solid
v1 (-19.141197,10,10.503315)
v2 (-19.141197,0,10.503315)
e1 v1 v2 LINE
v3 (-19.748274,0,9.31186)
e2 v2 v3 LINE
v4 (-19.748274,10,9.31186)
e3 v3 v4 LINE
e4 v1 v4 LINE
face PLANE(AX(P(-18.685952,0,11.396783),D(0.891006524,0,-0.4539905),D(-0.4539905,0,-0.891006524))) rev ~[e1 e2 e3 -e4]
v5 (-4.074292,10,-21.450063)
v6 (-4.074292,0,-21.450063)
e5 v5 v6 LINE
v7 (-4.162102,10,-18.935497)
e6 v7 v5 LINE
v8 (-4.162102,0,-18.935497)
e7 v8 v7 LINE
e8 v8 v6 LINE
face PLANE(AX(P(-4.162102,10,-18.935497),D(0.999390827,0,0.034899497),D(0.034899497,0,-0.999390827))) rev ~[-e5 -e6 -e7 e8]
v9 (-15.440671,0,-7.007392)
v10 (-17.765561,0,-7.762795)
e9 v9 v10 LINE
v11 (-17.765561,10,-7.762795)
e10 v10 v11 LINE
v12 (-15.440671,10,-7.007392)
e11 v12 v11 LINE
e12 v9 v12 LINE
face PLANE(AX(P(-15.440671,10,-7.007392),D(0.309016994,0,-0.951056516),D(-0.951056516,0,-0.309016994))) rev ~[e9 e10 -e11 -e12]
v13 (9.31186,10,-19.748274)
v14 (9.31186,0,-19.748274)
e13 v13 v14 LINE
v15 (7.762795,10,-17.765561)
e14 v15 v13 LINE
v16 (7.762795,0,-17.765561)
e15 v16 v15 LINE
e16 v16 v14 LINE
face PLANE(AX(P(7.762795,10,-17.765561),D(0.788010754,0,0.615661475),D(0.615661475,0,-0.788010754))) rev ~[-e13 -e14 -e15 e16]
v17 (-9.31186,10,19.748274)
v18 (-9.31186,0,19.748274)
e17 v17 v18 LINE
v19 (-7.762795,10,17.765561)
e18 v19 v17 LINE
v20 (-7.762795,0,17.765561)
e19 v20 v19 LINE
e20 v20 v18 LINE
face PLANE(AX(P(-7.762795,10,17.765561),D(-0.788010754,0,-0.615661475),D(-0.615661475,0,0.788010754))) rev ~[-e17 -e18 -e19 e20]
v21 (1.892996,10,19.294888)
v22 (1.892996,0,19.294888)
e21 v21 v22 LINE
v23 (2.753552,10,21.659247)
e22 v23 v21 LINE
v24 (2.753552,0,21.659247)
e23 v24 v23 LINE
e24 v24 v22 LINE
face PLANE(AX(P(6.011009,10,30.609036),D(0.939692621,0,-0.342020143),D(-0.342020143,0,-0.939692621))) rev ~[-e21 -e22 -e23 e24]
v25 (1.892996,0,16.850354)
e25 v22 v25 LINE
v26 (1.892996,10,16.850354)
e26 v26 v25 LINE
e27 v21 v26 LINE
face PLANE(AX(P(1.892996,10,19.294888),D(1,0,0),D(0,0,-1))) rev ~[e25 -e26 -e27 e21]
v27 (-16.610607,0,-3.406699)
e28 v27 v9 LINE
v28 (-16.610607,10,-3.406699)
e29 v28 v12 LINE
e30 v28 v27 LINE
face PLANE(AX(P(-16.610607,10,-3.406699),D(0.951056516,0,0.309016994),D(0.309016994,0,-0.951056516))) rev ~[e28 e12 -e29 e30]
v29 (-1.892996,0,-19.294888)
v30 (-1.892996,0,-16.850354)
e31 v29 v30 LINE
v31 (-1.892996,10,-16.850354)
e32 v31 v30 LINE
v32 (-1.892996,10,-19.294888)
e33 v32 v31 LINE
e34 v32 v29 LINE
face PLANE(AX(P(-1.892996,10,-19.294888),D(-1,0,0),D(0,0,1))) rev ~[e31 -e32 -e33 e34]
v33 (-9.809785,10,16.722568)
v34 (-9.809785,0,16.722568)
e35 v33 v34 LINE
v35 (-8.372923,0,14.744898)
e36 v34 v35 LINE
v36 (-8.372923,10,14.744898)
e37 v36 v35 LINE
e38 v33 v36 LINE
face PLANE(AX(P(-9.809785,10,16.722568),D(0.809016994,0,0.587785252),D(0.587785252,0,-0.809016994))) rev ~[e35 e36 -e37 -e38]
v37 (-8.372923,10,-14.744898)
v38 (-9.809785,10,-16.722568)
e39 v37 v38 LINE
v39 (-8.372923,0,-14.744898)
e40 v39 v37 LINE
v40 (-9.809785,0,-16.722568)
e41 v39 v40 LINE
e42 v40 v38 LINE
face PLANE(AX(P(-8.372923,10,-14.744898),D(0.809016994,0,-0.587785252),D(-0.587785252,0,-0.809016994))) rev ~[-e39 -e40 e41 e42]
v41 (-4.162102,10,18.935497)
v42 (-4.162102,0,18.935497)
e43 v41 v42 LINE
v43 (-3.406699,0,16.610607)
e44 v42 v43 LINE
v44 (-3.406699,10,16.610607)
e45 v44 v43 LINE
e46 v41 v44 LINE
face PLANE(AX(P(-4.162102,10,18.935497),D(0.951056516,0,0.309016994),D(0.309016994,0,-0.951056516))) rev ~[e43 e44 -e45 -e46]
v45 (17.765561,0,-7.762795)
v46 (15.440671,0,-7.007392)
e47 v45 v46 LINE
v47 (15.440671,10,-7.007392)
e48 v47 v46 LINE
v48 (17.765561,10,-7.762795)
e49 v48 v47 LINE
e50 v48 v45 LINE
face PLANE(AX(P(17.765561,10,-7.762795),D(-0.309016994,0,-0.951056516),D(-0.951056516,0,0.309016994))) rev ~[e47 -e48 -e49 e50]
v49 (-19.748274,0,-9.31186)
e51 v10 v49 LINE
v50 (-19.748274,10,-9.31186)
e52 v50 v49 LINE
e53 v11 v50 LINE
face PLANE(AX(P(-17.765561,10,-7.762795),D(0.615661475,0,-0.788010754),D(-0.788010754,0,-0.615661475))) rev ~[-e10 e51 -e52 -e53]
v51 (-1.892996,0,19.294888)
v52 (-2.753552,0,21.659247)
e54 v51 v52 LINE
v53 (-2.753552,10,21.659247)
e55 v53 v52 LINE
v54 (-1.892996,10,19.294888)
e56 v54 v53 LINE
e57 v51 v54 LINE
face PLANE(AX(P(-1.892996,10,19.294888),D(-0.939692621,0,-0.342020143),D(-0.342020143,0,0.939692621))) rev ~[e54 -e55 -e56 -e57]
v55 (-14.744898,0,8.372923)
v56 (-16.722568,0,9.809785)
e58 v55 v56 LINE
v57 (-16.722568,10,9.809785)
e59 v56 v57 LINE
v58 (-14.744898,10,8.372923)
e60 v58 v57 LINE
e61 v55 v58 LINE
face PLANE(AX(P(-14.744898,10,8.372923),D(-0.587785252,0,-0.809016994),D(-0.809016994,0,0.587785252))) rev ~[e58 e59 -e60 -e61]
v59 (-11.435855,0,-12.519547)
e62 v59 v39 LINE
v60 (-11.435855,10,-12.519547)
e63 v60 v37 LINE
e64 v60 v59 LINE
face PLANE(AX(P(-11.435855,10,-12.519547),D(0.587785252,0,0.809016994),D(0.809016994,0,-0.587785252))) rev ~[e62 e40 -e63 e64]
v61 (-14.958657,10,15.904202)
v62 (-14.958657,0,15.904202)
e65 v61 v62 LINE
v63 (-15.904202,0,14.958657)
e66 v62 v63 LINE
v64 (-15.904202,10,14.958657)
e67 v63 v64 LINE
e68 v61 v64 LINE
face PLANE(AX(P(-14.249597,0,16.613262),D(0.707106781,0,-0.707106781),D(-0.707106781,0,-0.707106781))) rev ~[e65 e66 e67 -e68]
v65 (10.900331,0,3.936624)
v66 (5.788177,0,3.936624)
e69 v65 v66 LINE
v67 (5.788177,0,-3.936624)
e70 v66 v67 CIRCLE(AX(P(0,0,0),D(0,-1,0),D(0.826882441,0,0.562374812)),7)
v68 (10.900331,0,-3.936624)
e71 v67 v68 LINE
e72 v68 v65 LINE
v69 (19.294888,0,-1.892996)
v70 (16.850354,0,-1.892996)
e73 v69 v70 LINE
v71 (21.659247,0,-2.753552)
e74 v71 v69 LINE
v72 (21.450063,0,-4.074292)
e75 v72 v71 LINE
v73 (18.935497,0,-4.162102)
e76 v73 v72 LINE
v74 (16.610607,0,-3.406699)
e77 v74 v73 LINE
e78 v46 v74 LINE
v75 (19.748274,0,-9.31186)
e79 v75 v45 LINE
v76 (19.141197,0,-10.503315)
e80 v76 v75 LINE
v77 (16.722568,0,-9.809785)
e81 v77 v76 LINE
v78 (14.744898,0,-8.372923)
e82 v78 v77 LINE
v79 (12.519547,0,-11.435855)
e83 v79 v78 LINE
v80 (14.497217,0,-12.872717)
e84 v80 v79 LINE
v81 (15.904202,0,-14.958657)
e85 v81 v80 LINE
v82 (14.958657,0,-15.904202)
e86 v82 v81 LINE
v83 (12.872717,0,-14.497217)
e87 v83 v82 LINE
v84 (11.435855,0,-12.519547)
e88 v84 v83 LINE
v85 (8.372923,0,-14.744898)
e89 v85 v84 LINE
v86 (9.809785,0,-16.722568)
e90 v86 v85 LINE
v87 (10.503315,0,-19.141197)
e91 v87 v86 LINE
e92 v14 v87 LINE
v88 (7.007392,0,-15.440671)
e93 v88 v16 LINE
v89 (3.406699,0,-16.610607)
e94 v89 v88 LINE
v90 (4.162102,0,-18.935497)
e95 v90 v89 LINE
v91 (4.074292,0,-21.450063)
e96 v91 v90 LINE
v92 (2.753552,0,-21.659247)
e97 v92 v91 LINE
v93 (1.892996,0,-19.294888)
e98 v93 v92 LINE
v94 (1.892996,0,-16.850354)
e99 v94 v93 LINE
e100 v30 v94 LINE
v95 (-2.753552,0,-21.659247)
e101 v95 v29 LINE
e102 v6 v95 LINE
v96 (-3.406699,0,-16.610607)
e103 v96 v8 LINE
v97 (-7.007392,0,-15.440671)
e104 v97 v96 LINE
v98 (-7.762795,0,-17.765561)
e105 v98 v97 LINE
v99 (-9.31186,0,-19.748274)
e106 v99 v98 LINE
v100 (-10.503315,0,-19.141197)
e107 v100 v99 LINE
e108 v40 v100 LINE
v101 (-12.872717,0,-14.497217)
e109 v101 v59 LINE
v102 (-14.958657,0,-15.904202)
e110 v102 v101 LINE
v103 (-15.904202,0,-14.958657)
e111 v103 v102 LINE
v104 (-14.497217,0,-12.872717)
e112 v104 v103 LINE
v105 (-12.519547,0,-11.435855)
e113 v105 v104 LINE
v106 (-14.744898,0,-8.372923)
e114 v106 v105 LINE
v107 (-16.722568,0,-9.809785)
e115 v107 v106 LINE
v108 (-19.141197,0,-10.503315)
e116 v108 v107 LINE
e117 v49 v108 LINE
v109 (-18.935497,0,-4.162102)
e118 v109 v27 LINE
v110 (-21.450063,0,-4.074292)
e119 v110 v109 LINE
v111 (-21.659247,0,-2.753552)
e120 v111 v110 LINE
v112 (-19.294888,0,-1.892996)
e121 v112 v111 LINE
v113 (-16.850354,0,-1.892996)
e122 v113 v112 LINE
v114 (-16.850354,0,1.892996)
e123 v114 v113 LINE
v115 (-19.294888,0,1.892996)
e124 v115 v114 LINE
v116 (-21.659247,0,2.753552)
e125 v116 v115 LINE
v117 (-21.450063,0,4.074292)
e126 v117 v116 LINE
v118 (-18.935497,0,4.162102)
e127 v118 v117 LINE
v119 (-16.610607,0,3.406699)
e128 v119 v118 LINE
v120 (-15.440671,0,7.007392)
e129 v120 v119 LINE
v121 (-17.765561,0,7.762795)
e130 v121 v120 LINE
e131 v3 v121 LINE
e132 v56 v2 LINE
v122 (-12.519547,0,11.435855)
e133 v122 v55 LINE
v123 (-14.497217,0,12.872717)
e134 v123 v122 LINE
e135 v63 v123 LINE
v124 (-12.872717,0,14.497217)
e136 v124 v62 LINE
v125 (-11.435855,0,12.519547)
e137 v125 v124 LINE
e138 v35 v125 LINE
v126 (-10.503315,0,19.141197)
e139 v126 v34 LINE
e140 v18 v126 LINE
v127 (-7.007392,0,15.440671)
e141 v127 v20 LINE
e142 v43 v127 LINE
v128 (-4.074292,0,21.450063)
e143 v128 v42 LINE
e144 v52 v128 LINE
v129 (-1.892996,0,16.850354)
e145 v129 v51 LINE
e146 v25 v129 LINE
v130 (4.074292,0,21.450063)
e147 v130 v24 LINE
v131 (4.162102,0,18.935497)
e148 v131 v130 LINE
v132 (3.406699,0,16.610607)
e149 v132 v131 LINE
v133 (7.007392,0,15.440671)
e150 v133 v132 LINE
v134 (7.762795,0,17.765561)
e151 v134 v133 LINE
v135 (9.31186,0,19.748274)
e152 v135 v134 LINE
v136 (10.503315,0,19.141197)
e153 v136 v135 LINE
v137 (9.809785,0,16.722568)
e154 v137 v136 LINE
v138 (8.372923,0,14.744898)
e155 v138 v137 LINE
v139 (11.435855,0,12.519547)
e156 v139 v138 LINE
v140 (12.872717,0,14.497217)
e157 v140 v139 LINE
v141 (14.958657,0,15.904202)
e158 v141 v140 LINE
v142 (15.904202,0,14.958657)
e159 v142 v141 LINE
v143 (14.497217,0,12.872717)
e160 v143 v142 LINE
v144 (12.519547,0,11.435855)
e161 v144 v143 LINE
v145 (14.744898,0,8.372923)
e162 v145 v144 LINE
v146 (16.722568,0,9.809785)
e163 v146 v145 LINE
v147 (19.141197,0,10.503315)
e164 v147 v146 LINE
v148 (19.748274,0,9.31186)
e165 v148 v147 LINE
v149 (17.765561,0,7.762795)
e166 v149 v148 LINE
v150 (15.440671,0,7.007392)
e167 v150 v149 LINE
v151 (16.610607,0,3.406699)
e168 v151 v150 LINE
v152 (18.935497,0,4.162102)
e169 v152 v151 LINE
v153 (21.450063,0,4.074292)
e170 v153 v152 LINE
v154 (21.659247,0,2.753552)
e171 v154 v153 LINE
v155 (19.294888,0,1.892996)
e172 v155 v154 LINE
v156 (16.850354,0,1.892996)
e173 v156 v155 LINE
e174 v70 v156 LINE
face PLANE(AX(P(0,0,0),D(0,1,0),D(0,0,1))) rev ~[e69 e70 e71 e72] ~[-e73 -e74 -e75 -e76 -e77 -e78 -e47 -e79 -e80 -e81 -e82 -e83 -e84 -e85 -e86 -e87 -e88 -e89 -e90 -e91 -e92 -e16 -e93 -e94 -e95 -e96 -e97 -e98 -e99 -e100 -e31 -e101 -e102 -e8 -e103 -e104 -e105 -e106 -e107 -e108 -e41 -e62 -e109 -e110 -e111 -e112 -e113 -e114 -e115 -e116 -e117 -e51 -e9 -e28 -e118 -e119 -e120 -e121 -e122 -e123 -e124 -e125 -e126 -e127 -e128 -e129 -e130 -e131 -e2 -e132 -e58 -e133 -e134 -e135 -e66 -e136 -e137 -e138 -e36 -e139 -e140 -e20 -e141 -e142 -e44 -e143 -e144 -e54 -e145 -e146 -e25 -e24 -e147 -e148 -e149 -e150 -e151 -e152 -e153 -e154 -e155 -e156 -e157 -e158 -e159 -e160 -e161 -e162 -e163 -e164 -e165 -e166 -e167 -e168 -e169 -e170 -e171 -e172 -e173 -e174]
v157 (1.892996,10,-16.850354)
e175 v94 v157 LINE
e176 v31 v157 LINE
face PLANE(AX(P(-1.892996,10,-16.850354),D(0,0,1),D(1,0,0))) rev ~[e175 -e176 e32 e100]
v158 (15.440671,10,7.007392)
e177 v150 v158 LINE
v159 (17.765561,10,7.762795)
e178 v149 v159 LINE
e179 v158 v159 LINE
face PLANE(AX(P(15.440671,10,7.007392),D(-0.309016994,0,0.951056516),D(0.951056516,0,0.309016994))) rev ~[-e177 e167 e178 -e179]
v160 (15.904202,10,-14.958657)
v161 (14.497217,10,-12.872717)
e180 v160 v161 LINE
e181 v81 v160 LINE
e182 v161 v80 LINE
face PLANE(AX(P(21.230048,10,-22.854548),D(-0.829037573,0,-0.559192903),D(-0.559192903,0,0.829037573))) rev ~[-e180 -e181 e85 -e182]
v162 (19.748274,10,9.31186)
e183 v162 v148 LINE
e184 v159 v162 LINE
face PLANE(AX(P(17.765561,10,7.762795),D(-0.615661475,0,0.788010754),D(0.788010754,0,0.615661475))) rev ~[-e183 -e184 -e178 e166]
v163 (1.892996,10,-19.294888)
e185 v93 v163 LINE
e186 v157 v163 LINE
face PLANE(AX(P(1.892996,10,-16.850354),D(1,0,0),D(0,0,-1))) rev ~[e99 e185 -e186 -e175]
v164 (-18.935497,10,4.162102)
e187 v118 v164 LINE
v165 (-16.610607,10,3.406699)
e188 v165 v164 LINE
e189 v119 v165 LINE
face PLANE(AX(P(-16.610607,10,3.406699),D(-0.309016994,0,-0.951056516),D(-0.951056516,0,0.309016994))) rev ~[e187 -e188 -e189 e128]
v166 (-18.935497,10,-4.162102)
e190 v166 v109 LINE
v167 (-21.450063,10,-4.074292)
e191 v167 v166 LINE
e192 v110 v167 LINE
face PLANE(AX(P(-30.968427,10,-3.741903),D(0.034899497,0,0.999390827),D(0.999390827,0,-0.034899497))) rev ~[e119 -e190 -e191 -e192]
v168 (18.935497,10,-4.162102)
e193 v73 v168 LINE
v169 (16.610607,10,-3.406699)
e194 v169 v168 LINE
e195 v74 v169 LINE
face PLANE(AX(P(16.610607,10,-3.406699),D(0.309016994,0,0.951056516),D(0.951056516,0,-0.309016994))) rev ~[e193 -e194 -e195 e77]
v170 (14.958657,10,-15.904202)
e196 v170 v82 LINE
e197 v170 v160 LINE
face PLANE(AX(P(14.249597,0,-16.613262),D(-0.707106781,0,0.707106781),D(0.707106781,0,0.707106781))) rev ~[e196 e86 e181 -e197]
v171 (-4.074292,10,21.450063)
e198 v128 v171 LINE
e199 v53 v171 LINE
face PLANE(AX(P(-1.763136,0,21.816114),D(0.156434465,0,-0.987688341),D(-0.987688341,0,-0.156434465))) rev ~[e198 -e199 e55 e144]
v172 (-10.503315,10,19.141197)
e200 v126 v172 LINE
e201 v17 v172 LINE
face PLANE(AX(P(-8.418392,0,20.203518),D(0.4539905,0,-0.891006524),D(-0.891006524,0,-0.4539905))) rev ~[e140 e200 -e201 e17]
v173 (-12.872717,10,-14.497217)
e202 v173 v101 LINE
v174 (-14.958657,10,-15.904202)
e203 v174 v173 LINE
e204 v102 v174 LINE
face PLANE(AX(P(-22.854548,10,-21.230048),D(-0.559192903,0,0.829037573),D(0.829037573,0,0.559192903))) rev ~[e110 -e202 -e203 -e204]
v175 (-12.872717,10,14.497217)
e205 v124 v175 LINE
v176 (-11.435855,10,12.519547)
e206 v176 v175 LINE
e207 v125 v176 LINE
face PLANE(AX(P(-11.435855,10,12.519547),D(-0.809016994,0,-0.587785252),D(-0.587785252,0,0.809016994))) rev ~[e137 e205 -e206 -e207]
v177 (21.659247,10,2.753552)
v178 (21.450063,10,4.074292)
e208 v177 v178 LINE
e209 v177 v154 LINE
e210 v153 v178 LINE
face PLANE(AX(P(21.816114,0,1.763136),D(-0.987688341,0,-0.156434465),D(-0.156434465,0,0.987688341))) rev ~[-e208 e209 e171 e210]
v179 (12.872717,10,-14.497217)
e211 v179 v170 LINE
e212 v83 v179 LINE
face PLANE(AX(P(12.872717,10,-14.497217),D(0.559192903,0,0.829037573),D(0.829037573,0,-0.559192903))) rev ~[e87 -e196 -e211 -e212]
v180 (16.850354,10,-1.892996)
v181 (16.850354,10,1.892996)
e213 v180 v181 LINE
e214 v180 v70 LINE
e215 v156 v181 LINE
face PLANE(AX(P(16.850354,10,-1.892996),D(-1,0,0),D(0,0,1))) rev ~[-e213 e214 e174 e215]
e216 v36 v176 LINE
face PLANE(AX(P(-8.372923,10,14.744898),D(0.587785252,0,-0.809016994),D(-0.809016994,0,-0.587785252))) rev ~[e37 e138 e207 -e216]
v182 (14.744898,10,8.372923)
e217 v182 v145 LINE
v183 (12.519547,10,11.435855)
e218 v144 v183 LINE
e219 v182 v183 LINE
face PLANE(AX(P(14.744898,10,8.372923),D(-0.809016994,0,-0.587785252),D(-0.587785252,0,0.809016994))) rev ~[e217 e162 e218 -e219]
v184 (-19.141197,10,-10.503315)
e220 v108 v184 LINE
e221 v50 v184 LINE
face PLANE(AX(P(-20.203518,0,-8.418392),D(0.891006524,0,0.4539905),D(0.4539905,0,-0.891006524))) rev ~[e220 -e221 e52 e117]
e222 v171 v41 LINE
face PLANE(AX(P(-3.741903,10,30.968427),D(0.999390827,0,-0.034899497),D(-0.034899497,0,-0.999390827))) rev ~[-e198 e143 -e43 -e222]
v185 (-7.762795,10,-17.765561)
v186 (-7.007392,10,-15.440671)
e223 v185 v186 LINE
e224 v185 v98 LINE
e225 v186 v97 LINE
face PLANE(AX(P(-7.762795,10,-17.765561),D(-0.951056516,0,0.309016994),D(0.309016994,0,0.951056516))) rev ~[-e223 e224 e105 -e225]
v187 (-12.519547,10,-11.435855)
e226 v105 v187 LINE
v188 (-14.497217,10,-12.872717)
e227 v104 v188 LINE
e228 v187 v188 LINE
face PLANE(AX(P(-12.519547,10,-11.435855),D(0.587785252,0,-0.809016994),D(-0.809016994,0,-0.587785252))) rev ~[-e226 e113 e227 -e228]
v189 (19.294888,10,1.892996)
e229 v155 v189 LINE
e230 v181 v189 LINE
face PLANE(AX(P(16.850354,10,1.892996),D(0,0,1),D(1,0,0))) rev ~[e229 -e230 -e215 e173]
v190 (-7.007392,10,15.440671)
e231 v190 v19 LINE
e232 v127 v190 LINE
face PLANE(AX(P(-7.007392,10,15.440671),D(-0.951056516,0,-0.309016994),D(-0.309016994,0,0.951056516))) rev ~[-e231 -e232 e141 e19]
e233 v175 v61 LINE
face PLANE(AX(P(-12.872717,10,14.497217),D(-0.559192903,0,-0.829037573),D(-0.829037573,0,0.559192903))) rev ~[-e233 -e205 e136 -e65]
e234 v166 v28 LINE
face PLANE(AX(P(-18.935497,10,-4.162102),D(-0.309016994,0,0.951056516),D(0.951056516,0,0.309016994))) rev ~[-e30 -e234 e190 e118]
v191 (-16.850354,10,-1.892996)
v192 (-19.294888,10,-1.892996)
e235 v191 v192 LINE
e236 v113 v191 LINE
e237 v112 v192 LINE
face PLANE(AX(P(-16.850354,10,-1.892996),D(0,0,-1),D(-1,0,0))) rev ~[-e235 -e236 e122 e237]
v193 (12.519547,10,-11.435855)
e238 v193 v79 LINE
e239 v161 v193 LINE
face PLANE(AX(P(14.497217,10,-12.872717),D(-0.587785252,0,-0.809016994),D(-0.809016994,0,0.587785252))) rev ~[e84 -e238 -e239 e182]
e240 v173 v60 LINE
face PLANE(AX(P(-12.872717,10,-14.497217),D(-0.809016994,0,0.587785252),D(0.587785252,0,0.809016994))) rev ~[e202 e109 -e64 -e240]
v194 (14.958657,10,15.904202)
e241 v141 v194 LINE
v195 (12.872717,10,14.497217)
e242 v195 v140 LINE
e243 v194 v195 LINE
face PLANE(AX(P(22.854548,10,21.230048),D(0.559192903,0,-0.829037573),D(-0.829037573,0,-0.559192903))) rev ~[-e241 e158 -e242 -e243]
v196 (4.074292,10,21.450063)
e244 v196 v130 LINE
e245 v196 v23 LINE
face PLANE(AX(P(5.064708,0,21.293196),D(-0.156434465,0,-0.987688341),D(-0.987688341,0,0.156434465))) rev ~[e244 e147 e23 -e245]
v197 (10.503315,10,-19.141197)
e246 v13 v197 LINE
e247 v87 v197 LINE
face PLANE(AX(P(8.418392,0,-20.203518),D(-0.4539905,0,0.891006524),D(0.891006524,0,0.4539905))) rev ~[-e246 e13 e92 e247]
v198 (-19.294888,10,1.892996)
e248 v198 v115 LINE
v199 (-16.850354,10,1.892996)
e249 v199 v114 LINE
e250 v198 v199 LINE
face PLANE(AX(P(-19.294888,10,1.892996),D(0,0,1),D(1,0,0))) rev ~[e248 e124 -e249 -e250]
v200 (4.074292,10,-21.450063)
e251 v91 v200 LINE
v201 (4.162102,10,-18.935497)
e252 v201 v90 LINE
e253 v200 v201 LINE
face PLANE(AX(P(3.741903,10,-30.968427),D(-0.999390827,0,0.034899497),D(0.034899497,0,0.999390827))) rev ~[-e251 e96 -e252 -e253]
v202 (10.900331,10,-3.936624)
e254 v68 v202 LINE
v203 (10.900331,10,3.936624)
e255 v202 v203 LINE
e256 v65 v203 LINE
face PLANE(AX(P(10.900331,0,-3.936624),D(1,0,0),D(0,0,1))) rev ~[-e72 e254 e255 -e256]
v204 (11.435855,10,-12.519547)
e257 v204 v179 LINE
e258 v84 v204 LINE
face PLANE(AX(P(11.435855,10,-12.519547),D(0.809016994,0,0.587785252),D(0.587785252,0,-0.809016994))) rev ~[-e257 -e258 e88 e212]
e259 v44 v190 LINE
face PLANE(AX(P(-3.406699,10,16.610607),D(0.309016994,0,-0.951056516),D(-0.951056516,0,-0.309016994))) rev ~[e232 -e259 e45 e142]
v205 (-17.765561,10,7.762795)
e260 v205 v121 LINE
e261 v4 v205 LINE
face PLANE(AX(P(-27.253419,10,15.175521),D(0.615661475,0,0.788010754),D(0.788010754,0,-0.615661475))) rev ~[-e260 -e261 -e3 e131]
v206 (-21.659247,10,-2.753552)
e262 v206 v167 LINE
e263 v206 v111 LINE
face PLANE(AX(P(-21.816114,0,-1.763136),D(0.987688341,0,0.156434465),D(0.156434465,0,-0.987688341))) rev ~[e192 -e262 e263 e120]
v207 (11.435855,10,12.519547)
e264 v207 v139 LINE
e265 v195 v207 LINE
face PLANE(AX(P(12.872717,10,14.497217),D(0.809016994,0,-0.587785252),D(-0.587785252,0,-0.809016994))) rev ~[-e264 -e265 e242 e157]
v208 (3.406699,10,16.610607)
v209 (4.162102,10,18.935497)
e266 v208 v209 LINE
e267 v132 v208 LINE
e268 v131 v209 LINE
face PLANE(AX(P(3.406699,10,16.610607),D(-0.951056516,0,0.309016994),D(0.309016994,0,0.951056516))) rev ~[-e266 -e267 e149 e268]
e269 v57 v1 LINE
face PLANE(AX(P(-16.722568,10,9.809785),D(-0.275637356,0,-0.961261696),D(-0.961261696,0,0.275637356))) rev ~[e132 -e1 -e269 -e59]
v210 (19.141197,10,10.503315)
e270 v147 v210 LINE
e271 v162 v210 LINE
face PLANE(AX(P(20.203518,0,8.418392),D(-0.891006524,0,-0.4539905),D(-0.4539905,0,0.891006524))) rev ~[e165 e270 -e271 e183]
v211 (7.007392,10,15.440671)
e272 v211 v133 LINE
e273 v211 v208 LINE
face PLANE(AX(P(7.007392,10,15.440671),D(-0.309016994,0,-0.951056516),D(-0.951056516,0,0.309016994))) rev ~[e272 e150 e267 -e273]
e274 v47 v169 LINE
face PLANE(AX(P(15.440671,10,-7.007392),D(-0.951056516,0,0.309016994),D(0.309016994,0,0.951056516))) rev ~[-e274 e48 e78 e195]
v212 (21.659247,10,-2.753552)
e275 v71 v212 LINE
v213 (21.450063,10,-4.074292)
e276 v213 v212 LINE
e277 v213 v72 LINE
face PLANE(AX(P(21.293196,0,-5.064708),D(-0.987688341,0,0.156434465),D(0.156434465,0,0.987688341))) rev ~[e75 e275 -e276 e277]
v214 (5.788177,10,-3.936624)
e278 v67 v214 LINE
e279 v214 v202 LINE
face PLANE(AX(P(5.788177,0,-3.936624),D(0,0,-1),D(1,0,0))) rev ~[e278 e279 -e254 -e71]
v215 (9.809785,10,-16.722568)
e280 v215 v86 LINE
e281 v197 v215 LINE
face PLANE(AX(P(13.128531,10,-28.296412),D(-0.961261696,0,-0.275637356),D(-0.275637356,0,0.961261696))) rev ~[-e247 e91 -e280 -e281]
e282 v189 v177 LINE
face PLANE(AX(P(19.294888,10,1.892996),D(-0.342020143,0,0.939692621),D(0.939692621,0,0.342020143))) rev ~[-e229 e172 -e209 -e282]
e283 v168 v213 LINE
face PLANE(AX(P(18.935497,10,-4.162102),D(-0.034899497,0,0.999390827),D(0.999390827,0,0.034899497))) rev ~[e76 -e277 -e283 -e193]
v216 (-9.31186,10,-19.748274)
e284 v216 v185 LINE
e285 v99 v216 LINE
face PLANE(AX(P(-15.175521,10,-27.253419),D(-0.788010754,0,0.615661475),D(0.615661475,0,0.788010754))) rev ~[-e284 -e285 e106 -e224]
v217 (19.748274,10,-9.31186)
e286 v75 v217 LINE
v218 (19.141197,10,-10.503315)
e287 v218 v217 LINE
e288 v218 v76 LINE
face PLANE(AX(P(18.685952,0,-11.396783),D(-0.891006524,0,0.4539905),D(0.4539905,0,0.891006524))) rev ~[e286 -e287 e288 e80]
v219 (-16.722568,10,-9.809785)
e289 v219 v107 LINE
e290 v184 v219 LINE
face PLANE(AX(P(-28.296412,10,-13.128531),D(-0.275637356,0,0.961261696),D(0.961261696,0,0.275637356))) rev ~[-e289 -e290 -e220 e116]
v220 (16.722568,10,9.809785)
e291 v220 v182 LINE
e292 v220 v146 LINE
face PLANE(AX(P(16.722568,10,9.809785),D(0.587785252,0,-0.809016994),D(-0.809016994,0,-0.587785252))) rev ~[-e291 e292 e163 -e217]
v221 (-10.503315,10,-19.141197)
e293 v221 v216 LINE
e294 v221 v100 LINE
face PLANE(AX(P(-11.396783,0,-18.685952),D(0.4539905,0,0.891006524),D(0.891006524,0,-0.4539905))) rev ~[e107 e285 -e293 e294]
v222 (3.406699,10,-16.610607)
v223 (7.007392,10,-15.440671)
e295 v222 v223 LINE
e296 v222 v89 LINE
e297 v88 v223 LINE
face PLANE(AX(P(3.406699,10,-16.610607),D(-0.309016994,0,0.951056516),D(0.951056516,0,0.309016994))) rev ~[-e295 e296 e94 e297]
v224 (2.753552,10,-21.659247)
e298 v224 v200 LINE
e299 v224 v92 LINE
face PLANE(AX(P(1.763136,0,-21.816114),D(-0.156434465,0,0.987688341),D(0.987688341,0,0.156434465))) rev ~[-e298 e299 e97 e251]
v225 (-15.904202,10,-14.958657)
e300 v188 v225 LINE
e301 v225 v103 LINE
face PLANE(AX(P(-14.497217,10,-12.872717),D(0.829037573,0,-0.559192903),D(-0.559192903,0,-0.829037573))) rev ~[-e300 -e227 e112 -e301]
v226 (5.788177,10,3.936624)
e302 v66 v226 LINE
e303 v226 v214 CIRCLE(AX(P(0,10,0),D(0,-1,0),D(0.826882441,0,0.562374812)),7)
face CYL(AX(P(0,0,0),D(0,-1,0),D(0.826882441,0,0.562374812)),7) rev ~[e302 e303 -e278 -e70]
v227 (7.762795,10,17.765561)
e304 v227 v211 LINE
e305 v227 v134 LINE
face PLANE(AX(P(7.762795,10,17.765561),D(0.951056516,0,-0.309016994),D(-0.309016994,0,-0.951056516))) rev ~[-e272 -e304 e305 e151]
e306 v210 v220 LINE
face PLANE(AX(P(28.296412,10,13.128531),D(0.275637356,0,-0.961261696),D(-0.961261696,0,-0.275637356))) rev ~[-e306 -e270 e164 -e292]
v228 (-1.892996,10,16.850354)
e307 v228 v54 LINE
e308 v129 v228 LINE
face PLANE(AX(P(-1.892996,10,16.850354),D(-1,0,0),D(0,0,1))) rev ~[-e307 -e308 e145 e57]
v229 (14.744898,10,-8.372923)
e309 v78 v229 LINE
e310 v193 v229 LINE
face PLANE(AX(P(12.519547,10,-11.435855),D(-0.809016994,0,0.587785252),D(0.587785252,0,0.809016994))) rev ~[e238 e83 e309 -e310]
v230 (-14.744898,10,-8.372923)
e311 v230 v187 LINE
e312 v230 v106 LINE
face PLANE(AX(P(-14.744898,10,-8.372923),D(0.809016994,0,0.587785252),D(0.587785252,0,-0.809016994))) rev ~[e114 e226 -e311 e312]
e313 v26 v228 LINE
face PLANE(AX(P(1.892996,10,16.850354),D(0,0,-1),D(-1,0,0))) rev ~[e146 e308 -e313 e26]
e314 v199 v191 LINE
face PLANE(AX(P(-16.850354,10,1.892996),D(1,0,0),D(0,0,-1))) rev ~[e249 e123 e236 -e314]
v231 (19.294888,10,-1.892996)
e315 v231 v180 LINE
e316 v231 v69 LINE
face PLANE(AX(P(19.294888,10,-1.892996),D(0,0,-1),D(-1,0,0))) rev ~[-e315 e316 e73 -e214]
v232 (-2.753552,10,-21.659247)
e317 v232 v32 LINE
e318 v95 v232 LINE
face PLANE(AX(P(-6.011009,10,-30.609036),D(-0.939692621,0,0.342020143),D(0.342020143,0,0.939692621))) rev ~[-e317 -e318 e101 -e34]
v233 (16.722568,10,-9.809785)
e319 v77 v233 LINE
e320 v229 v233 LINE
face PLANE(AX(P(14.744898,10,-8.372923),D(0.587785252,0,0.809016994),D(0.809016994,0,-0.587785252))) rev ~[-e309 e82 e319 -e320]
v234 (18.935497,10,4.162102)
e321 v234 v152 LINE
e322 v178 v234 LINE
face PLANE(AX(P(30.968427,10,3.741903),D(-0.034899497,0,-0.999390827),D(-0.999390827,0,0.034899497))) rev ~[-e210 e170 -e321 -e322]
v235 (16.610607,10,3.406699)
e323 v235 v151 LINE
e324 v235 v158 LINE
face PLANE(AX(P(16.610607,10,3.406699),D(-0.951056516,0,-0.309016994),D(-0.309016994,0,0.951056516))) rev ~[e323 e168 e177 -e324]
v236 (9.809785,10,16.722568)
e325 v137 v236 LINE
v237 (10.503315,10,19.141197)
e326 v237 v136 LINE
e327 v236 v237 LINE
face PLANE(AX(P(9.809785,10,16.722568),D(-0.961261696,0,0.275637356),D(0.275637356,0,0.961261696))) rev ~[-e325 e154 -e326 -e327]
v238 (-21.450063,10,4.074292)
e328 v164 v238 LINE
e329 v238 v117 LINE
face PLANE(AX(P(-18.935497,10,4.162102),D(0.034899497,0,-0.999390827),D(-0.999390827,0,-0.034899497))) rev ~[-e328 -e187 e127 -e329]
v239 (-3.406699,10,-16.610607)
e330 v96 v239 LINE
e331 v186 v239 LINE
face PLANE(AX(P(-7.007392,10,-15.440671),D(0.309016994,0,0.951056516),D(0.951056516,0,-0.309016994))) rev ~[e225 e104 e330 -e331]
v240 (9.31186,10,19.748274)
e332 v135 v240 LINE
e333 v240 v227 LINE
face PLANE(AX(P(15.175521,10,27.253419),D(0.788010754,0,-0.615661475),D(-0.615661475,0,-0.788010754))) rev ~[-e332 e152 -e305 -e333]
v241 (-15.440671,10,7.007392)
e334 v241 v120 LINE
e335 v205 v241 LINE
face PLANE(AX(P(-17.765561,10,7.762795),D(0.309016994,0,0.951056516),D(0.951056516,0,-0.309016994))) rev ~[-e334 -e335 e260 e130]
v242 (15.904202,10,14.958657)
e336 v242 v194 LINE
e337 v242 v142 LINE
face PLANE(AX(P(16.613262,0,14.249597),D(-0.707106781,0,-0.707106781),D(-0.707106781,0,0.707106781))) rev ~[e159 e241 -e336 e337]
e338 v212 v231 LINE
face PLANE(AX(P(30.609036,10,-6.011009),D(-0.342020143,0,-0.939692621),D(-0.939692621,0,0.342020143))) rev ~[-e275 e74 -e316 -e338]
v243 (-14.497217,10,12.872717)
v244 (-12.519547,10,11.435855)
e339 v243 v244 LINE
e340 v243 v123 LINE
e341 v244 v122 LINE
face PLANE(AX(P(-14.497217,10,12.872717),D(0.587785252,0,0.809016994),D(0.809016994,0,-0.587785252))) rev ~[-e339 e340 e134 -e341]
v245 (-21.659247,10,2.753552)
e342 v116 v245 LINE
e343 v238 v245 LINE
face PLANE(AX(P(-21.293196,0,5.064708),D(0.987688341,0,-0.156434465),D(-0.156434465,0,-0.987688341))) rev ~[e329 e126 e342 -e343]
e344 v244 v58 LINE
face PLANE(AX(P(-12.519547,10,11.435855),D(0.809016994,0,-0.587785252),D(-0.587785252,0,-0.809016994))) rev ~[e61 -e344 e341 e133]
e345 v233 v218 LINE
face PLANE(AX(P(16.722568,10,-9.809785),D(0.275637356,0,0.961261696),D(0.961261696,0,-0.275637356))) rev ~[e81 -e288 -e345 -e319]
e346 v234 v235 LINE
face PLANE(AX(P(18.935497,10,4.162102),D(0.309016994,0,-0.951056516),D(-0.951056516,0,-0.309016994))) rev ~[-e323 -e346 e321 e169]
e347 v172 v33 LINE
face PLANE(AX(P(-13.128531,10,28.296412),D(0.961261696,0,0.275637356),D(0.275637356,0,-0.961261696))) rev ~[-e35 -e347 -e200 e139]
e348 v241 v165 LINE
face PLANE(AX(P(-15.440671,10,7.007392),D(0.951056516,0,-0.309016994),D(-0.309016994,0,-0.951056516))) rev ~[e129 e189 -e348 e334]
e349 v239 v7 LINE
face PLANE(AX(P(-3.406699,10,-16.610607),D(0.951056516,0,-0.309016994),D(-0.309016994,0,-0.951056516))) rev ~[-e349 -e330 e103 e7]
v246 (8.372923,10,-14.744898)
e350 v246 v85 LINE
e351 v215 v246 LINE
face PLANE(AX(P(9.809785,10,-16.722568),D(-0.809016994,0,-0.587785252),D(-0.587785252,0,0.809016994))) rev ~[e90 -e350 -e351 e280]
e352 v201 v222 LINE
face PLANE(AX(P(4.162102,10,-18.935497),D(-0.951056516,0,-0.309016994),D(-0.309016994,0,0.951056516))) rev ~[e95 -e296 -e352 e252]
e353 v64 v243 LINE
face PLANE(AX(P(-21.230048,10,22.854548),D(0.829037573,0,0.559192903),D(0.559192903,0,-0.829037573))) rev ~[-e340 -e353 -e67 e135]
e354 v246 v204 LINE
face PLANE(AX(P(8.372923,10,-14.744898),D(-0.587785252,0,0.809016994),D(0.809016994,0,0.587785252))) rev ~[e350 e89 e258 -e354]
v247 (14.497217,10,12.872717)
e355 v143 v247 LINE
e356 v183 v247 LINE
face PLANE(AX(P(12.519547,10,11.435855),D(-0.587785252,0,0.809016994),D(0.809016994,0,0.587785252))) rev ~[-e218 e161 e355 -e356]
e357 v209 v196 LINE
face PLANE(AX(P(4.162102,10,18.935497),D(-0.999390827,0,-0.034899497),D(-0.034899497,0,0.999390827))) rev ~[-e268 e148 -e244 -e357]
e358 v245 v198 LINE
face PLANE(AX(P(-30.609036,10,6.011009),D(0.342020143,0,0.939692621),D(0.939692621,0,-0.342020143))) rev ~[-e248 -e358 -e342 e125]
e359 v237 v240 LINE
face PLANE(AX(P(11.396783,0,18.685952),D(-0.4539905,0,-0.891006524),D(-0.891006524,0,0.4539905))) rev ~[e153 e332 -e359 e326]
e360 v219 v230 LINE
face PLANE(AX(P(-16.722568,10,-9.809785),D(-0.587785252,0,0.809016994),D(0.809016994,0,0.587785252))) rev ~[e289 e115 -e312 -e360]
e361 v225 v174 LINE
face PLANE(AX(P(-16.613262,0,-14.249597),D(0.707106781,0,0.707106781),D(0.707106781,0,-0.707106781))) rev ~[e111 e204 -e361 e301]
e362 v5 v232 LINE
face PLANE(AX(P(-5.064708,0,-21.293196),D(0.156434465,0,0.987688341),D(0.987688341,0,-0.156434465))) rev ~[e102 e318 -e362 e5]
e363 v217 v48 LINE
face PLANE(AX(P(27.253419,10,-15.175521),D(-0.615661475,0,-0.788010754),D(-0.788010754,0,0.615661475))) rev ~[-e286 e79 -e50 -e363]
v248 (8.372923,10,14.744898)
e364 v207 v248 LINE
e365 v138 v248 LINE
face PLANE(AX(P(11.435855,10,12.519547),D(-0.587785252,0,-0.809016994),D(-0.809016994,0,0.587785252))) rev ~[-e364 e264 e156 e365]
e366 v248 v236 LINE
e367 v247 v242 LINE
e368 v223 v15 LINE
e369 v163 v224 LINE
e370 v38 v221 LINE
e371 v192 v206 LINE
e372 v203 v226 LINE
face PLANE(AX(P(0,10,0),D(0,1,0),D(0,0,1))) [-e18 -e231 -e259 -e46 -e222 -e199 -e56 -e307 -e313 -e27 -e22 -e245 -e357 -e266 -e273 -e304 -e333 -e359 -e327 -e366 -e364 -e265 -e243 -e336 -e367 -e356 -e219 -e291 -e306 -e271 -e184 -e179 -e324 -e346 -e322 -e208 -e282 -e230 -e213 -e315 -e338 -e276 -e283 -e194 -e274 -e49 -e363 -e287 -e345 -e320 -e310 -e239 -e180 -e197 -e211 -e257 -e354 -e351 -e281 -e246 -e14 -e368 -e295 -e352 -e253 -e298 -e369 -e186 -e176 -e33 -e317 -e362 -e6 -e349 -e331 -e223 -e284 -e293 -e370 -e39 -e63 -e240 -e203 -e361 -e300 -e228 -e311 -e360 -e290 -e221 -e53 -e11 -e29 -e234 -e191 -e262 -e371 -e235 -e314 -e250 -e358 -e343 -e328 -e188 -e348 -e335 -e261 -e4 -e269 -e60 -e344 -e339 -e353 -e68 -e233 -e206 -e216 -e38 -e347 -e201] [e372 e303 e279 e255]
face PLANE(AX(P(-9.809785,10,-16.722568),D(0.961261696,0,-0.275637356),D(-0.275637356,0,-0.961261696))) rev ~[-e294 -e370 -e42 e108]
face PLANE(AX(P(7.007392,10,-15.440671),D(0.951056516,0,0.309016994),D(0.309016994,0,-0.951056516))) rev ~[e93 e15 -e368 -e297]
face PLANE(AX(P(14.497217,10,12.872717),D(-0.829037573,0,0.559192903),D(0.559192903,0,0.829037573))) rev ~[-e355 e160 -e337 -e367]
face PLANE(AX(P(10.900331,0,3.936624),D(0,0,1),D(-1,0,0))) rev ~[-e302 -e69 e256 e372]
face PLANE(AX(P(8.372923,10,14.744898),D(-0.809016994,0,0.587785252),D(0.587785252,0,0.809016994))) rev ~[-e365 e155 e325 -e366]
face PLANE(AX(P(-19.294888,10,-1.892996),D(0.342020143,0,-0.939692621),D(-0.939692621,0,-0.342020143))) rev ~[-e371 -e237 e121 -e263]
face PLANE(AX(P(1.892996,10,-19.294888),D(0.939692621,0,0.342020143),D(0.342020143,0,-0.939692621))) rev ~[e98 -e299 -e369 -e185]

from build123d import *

# Parameters (mm, degrees)
SKETCH_1_R               = 25
EXTRUDE_1_DEPTH          = 10
CUT_EXTRUDE_1_DEPTH      = 37.742346142
PATTERN_CIRCULAR_1_COUNT = 20
CUT_EXTRUDE_2_DEPTH      = 37.334492668
PATTERN_CIRCULAR_2_COUNT = 20


with BuildPart() as part:
    # 草图1 → 凸台-拉伸1 (new body)
    with BuildSketch(Plane(origin=(0, 0, 0), x_dir=(1, 0, 0), z_dir=(0, 1, 0))):
        with Locations(Location((0, 0, 0), (0, 0, 270))):
            Circle(SKETCH_1_R)
        with BuildLine():
            Line((5.788177086, 3.936623684), (10.900331071, 3.936623684))
            Line((10.900331071, 3.936623684), (10.900331071, -3.936623684))
            Line((10.900331071, -3.936623684), (5.788177086, -3.936623684))
            ThreePointArc((5.788177086, -3.936623684), (-7, 0), (5.788177086, 3.936623684))
        make_face(mode=Mode.SUBTRACT)
    extrude(amount=EXTRUDE_1_DEPTH)

    # 草图2 → 切除-拉伸1 (cut, symmetric)
    with BuildSketch(Plane(origin=(0, 10, 0), x_dir=(1, 0, 0), z_dir=(0, 1, 0))):
        Polygon((-1.89299605, 16.850353612), (1.89299605, 16.850353612), (1.89299605, 19.294888065), (6.011008964, 30.60903556), (-6.011008964, 30.60903556), (-1.89299605, 19.294888065), align=None)
    cut_extrude_1 = extrude(amount=CUT_EXTRUDE_1_DEPTH, both=True, mode=Mode.SUBTRACT)

    # 阵列(圆周)1: 切除-拉伸1 ×20 about axis
    pattern_circular_1_axis = Axis((0, 0, 0), (0, 1, 0))
    for i in range(1, PATTERN_CIRCULAR_1_COUNT):
        add(cut_extrude_1.rotate(pattern_circular_1_axis, i * 360 / PATTERN_CIRCULAR_1_COUNT), mode=Mode.SUBTRACT)

    # 草图4 → 切除-拉伸2 (cut, symmetric)
    with BuildSketch(Plane(origin=(0, 0, 0), x_dir=(1, 0, 0), z_dir=(0, 1, 0))):
        Polygon((-5.064708137, 21.29319636), (-2.398933181, 21.715413634), (-3.215562642, 26.871409132), (-6.421705824, 26.363605939), align=None)
    cut_extrude_2 = extrude(amount=CUT_EXTRUDE_2_DEPTH, both=True, mode=Mode.SUBTRACT)

    # 阵列(圆周)2: 切除-拉伸2 ×20 about axis
    pattern_circular_2_axis = Axis((0, 0, 0), (0, 1, 0))
    for i in range(1, PATTERN_CIRCULAR_2_COUNT):
        add(cut_extrude_2.rotate(pattern_circular_2_axis, i * 360 / PATTERN_CIRCULAR_2_COUNT), mode=Mode.SUBTRACT)


solid = part.part
